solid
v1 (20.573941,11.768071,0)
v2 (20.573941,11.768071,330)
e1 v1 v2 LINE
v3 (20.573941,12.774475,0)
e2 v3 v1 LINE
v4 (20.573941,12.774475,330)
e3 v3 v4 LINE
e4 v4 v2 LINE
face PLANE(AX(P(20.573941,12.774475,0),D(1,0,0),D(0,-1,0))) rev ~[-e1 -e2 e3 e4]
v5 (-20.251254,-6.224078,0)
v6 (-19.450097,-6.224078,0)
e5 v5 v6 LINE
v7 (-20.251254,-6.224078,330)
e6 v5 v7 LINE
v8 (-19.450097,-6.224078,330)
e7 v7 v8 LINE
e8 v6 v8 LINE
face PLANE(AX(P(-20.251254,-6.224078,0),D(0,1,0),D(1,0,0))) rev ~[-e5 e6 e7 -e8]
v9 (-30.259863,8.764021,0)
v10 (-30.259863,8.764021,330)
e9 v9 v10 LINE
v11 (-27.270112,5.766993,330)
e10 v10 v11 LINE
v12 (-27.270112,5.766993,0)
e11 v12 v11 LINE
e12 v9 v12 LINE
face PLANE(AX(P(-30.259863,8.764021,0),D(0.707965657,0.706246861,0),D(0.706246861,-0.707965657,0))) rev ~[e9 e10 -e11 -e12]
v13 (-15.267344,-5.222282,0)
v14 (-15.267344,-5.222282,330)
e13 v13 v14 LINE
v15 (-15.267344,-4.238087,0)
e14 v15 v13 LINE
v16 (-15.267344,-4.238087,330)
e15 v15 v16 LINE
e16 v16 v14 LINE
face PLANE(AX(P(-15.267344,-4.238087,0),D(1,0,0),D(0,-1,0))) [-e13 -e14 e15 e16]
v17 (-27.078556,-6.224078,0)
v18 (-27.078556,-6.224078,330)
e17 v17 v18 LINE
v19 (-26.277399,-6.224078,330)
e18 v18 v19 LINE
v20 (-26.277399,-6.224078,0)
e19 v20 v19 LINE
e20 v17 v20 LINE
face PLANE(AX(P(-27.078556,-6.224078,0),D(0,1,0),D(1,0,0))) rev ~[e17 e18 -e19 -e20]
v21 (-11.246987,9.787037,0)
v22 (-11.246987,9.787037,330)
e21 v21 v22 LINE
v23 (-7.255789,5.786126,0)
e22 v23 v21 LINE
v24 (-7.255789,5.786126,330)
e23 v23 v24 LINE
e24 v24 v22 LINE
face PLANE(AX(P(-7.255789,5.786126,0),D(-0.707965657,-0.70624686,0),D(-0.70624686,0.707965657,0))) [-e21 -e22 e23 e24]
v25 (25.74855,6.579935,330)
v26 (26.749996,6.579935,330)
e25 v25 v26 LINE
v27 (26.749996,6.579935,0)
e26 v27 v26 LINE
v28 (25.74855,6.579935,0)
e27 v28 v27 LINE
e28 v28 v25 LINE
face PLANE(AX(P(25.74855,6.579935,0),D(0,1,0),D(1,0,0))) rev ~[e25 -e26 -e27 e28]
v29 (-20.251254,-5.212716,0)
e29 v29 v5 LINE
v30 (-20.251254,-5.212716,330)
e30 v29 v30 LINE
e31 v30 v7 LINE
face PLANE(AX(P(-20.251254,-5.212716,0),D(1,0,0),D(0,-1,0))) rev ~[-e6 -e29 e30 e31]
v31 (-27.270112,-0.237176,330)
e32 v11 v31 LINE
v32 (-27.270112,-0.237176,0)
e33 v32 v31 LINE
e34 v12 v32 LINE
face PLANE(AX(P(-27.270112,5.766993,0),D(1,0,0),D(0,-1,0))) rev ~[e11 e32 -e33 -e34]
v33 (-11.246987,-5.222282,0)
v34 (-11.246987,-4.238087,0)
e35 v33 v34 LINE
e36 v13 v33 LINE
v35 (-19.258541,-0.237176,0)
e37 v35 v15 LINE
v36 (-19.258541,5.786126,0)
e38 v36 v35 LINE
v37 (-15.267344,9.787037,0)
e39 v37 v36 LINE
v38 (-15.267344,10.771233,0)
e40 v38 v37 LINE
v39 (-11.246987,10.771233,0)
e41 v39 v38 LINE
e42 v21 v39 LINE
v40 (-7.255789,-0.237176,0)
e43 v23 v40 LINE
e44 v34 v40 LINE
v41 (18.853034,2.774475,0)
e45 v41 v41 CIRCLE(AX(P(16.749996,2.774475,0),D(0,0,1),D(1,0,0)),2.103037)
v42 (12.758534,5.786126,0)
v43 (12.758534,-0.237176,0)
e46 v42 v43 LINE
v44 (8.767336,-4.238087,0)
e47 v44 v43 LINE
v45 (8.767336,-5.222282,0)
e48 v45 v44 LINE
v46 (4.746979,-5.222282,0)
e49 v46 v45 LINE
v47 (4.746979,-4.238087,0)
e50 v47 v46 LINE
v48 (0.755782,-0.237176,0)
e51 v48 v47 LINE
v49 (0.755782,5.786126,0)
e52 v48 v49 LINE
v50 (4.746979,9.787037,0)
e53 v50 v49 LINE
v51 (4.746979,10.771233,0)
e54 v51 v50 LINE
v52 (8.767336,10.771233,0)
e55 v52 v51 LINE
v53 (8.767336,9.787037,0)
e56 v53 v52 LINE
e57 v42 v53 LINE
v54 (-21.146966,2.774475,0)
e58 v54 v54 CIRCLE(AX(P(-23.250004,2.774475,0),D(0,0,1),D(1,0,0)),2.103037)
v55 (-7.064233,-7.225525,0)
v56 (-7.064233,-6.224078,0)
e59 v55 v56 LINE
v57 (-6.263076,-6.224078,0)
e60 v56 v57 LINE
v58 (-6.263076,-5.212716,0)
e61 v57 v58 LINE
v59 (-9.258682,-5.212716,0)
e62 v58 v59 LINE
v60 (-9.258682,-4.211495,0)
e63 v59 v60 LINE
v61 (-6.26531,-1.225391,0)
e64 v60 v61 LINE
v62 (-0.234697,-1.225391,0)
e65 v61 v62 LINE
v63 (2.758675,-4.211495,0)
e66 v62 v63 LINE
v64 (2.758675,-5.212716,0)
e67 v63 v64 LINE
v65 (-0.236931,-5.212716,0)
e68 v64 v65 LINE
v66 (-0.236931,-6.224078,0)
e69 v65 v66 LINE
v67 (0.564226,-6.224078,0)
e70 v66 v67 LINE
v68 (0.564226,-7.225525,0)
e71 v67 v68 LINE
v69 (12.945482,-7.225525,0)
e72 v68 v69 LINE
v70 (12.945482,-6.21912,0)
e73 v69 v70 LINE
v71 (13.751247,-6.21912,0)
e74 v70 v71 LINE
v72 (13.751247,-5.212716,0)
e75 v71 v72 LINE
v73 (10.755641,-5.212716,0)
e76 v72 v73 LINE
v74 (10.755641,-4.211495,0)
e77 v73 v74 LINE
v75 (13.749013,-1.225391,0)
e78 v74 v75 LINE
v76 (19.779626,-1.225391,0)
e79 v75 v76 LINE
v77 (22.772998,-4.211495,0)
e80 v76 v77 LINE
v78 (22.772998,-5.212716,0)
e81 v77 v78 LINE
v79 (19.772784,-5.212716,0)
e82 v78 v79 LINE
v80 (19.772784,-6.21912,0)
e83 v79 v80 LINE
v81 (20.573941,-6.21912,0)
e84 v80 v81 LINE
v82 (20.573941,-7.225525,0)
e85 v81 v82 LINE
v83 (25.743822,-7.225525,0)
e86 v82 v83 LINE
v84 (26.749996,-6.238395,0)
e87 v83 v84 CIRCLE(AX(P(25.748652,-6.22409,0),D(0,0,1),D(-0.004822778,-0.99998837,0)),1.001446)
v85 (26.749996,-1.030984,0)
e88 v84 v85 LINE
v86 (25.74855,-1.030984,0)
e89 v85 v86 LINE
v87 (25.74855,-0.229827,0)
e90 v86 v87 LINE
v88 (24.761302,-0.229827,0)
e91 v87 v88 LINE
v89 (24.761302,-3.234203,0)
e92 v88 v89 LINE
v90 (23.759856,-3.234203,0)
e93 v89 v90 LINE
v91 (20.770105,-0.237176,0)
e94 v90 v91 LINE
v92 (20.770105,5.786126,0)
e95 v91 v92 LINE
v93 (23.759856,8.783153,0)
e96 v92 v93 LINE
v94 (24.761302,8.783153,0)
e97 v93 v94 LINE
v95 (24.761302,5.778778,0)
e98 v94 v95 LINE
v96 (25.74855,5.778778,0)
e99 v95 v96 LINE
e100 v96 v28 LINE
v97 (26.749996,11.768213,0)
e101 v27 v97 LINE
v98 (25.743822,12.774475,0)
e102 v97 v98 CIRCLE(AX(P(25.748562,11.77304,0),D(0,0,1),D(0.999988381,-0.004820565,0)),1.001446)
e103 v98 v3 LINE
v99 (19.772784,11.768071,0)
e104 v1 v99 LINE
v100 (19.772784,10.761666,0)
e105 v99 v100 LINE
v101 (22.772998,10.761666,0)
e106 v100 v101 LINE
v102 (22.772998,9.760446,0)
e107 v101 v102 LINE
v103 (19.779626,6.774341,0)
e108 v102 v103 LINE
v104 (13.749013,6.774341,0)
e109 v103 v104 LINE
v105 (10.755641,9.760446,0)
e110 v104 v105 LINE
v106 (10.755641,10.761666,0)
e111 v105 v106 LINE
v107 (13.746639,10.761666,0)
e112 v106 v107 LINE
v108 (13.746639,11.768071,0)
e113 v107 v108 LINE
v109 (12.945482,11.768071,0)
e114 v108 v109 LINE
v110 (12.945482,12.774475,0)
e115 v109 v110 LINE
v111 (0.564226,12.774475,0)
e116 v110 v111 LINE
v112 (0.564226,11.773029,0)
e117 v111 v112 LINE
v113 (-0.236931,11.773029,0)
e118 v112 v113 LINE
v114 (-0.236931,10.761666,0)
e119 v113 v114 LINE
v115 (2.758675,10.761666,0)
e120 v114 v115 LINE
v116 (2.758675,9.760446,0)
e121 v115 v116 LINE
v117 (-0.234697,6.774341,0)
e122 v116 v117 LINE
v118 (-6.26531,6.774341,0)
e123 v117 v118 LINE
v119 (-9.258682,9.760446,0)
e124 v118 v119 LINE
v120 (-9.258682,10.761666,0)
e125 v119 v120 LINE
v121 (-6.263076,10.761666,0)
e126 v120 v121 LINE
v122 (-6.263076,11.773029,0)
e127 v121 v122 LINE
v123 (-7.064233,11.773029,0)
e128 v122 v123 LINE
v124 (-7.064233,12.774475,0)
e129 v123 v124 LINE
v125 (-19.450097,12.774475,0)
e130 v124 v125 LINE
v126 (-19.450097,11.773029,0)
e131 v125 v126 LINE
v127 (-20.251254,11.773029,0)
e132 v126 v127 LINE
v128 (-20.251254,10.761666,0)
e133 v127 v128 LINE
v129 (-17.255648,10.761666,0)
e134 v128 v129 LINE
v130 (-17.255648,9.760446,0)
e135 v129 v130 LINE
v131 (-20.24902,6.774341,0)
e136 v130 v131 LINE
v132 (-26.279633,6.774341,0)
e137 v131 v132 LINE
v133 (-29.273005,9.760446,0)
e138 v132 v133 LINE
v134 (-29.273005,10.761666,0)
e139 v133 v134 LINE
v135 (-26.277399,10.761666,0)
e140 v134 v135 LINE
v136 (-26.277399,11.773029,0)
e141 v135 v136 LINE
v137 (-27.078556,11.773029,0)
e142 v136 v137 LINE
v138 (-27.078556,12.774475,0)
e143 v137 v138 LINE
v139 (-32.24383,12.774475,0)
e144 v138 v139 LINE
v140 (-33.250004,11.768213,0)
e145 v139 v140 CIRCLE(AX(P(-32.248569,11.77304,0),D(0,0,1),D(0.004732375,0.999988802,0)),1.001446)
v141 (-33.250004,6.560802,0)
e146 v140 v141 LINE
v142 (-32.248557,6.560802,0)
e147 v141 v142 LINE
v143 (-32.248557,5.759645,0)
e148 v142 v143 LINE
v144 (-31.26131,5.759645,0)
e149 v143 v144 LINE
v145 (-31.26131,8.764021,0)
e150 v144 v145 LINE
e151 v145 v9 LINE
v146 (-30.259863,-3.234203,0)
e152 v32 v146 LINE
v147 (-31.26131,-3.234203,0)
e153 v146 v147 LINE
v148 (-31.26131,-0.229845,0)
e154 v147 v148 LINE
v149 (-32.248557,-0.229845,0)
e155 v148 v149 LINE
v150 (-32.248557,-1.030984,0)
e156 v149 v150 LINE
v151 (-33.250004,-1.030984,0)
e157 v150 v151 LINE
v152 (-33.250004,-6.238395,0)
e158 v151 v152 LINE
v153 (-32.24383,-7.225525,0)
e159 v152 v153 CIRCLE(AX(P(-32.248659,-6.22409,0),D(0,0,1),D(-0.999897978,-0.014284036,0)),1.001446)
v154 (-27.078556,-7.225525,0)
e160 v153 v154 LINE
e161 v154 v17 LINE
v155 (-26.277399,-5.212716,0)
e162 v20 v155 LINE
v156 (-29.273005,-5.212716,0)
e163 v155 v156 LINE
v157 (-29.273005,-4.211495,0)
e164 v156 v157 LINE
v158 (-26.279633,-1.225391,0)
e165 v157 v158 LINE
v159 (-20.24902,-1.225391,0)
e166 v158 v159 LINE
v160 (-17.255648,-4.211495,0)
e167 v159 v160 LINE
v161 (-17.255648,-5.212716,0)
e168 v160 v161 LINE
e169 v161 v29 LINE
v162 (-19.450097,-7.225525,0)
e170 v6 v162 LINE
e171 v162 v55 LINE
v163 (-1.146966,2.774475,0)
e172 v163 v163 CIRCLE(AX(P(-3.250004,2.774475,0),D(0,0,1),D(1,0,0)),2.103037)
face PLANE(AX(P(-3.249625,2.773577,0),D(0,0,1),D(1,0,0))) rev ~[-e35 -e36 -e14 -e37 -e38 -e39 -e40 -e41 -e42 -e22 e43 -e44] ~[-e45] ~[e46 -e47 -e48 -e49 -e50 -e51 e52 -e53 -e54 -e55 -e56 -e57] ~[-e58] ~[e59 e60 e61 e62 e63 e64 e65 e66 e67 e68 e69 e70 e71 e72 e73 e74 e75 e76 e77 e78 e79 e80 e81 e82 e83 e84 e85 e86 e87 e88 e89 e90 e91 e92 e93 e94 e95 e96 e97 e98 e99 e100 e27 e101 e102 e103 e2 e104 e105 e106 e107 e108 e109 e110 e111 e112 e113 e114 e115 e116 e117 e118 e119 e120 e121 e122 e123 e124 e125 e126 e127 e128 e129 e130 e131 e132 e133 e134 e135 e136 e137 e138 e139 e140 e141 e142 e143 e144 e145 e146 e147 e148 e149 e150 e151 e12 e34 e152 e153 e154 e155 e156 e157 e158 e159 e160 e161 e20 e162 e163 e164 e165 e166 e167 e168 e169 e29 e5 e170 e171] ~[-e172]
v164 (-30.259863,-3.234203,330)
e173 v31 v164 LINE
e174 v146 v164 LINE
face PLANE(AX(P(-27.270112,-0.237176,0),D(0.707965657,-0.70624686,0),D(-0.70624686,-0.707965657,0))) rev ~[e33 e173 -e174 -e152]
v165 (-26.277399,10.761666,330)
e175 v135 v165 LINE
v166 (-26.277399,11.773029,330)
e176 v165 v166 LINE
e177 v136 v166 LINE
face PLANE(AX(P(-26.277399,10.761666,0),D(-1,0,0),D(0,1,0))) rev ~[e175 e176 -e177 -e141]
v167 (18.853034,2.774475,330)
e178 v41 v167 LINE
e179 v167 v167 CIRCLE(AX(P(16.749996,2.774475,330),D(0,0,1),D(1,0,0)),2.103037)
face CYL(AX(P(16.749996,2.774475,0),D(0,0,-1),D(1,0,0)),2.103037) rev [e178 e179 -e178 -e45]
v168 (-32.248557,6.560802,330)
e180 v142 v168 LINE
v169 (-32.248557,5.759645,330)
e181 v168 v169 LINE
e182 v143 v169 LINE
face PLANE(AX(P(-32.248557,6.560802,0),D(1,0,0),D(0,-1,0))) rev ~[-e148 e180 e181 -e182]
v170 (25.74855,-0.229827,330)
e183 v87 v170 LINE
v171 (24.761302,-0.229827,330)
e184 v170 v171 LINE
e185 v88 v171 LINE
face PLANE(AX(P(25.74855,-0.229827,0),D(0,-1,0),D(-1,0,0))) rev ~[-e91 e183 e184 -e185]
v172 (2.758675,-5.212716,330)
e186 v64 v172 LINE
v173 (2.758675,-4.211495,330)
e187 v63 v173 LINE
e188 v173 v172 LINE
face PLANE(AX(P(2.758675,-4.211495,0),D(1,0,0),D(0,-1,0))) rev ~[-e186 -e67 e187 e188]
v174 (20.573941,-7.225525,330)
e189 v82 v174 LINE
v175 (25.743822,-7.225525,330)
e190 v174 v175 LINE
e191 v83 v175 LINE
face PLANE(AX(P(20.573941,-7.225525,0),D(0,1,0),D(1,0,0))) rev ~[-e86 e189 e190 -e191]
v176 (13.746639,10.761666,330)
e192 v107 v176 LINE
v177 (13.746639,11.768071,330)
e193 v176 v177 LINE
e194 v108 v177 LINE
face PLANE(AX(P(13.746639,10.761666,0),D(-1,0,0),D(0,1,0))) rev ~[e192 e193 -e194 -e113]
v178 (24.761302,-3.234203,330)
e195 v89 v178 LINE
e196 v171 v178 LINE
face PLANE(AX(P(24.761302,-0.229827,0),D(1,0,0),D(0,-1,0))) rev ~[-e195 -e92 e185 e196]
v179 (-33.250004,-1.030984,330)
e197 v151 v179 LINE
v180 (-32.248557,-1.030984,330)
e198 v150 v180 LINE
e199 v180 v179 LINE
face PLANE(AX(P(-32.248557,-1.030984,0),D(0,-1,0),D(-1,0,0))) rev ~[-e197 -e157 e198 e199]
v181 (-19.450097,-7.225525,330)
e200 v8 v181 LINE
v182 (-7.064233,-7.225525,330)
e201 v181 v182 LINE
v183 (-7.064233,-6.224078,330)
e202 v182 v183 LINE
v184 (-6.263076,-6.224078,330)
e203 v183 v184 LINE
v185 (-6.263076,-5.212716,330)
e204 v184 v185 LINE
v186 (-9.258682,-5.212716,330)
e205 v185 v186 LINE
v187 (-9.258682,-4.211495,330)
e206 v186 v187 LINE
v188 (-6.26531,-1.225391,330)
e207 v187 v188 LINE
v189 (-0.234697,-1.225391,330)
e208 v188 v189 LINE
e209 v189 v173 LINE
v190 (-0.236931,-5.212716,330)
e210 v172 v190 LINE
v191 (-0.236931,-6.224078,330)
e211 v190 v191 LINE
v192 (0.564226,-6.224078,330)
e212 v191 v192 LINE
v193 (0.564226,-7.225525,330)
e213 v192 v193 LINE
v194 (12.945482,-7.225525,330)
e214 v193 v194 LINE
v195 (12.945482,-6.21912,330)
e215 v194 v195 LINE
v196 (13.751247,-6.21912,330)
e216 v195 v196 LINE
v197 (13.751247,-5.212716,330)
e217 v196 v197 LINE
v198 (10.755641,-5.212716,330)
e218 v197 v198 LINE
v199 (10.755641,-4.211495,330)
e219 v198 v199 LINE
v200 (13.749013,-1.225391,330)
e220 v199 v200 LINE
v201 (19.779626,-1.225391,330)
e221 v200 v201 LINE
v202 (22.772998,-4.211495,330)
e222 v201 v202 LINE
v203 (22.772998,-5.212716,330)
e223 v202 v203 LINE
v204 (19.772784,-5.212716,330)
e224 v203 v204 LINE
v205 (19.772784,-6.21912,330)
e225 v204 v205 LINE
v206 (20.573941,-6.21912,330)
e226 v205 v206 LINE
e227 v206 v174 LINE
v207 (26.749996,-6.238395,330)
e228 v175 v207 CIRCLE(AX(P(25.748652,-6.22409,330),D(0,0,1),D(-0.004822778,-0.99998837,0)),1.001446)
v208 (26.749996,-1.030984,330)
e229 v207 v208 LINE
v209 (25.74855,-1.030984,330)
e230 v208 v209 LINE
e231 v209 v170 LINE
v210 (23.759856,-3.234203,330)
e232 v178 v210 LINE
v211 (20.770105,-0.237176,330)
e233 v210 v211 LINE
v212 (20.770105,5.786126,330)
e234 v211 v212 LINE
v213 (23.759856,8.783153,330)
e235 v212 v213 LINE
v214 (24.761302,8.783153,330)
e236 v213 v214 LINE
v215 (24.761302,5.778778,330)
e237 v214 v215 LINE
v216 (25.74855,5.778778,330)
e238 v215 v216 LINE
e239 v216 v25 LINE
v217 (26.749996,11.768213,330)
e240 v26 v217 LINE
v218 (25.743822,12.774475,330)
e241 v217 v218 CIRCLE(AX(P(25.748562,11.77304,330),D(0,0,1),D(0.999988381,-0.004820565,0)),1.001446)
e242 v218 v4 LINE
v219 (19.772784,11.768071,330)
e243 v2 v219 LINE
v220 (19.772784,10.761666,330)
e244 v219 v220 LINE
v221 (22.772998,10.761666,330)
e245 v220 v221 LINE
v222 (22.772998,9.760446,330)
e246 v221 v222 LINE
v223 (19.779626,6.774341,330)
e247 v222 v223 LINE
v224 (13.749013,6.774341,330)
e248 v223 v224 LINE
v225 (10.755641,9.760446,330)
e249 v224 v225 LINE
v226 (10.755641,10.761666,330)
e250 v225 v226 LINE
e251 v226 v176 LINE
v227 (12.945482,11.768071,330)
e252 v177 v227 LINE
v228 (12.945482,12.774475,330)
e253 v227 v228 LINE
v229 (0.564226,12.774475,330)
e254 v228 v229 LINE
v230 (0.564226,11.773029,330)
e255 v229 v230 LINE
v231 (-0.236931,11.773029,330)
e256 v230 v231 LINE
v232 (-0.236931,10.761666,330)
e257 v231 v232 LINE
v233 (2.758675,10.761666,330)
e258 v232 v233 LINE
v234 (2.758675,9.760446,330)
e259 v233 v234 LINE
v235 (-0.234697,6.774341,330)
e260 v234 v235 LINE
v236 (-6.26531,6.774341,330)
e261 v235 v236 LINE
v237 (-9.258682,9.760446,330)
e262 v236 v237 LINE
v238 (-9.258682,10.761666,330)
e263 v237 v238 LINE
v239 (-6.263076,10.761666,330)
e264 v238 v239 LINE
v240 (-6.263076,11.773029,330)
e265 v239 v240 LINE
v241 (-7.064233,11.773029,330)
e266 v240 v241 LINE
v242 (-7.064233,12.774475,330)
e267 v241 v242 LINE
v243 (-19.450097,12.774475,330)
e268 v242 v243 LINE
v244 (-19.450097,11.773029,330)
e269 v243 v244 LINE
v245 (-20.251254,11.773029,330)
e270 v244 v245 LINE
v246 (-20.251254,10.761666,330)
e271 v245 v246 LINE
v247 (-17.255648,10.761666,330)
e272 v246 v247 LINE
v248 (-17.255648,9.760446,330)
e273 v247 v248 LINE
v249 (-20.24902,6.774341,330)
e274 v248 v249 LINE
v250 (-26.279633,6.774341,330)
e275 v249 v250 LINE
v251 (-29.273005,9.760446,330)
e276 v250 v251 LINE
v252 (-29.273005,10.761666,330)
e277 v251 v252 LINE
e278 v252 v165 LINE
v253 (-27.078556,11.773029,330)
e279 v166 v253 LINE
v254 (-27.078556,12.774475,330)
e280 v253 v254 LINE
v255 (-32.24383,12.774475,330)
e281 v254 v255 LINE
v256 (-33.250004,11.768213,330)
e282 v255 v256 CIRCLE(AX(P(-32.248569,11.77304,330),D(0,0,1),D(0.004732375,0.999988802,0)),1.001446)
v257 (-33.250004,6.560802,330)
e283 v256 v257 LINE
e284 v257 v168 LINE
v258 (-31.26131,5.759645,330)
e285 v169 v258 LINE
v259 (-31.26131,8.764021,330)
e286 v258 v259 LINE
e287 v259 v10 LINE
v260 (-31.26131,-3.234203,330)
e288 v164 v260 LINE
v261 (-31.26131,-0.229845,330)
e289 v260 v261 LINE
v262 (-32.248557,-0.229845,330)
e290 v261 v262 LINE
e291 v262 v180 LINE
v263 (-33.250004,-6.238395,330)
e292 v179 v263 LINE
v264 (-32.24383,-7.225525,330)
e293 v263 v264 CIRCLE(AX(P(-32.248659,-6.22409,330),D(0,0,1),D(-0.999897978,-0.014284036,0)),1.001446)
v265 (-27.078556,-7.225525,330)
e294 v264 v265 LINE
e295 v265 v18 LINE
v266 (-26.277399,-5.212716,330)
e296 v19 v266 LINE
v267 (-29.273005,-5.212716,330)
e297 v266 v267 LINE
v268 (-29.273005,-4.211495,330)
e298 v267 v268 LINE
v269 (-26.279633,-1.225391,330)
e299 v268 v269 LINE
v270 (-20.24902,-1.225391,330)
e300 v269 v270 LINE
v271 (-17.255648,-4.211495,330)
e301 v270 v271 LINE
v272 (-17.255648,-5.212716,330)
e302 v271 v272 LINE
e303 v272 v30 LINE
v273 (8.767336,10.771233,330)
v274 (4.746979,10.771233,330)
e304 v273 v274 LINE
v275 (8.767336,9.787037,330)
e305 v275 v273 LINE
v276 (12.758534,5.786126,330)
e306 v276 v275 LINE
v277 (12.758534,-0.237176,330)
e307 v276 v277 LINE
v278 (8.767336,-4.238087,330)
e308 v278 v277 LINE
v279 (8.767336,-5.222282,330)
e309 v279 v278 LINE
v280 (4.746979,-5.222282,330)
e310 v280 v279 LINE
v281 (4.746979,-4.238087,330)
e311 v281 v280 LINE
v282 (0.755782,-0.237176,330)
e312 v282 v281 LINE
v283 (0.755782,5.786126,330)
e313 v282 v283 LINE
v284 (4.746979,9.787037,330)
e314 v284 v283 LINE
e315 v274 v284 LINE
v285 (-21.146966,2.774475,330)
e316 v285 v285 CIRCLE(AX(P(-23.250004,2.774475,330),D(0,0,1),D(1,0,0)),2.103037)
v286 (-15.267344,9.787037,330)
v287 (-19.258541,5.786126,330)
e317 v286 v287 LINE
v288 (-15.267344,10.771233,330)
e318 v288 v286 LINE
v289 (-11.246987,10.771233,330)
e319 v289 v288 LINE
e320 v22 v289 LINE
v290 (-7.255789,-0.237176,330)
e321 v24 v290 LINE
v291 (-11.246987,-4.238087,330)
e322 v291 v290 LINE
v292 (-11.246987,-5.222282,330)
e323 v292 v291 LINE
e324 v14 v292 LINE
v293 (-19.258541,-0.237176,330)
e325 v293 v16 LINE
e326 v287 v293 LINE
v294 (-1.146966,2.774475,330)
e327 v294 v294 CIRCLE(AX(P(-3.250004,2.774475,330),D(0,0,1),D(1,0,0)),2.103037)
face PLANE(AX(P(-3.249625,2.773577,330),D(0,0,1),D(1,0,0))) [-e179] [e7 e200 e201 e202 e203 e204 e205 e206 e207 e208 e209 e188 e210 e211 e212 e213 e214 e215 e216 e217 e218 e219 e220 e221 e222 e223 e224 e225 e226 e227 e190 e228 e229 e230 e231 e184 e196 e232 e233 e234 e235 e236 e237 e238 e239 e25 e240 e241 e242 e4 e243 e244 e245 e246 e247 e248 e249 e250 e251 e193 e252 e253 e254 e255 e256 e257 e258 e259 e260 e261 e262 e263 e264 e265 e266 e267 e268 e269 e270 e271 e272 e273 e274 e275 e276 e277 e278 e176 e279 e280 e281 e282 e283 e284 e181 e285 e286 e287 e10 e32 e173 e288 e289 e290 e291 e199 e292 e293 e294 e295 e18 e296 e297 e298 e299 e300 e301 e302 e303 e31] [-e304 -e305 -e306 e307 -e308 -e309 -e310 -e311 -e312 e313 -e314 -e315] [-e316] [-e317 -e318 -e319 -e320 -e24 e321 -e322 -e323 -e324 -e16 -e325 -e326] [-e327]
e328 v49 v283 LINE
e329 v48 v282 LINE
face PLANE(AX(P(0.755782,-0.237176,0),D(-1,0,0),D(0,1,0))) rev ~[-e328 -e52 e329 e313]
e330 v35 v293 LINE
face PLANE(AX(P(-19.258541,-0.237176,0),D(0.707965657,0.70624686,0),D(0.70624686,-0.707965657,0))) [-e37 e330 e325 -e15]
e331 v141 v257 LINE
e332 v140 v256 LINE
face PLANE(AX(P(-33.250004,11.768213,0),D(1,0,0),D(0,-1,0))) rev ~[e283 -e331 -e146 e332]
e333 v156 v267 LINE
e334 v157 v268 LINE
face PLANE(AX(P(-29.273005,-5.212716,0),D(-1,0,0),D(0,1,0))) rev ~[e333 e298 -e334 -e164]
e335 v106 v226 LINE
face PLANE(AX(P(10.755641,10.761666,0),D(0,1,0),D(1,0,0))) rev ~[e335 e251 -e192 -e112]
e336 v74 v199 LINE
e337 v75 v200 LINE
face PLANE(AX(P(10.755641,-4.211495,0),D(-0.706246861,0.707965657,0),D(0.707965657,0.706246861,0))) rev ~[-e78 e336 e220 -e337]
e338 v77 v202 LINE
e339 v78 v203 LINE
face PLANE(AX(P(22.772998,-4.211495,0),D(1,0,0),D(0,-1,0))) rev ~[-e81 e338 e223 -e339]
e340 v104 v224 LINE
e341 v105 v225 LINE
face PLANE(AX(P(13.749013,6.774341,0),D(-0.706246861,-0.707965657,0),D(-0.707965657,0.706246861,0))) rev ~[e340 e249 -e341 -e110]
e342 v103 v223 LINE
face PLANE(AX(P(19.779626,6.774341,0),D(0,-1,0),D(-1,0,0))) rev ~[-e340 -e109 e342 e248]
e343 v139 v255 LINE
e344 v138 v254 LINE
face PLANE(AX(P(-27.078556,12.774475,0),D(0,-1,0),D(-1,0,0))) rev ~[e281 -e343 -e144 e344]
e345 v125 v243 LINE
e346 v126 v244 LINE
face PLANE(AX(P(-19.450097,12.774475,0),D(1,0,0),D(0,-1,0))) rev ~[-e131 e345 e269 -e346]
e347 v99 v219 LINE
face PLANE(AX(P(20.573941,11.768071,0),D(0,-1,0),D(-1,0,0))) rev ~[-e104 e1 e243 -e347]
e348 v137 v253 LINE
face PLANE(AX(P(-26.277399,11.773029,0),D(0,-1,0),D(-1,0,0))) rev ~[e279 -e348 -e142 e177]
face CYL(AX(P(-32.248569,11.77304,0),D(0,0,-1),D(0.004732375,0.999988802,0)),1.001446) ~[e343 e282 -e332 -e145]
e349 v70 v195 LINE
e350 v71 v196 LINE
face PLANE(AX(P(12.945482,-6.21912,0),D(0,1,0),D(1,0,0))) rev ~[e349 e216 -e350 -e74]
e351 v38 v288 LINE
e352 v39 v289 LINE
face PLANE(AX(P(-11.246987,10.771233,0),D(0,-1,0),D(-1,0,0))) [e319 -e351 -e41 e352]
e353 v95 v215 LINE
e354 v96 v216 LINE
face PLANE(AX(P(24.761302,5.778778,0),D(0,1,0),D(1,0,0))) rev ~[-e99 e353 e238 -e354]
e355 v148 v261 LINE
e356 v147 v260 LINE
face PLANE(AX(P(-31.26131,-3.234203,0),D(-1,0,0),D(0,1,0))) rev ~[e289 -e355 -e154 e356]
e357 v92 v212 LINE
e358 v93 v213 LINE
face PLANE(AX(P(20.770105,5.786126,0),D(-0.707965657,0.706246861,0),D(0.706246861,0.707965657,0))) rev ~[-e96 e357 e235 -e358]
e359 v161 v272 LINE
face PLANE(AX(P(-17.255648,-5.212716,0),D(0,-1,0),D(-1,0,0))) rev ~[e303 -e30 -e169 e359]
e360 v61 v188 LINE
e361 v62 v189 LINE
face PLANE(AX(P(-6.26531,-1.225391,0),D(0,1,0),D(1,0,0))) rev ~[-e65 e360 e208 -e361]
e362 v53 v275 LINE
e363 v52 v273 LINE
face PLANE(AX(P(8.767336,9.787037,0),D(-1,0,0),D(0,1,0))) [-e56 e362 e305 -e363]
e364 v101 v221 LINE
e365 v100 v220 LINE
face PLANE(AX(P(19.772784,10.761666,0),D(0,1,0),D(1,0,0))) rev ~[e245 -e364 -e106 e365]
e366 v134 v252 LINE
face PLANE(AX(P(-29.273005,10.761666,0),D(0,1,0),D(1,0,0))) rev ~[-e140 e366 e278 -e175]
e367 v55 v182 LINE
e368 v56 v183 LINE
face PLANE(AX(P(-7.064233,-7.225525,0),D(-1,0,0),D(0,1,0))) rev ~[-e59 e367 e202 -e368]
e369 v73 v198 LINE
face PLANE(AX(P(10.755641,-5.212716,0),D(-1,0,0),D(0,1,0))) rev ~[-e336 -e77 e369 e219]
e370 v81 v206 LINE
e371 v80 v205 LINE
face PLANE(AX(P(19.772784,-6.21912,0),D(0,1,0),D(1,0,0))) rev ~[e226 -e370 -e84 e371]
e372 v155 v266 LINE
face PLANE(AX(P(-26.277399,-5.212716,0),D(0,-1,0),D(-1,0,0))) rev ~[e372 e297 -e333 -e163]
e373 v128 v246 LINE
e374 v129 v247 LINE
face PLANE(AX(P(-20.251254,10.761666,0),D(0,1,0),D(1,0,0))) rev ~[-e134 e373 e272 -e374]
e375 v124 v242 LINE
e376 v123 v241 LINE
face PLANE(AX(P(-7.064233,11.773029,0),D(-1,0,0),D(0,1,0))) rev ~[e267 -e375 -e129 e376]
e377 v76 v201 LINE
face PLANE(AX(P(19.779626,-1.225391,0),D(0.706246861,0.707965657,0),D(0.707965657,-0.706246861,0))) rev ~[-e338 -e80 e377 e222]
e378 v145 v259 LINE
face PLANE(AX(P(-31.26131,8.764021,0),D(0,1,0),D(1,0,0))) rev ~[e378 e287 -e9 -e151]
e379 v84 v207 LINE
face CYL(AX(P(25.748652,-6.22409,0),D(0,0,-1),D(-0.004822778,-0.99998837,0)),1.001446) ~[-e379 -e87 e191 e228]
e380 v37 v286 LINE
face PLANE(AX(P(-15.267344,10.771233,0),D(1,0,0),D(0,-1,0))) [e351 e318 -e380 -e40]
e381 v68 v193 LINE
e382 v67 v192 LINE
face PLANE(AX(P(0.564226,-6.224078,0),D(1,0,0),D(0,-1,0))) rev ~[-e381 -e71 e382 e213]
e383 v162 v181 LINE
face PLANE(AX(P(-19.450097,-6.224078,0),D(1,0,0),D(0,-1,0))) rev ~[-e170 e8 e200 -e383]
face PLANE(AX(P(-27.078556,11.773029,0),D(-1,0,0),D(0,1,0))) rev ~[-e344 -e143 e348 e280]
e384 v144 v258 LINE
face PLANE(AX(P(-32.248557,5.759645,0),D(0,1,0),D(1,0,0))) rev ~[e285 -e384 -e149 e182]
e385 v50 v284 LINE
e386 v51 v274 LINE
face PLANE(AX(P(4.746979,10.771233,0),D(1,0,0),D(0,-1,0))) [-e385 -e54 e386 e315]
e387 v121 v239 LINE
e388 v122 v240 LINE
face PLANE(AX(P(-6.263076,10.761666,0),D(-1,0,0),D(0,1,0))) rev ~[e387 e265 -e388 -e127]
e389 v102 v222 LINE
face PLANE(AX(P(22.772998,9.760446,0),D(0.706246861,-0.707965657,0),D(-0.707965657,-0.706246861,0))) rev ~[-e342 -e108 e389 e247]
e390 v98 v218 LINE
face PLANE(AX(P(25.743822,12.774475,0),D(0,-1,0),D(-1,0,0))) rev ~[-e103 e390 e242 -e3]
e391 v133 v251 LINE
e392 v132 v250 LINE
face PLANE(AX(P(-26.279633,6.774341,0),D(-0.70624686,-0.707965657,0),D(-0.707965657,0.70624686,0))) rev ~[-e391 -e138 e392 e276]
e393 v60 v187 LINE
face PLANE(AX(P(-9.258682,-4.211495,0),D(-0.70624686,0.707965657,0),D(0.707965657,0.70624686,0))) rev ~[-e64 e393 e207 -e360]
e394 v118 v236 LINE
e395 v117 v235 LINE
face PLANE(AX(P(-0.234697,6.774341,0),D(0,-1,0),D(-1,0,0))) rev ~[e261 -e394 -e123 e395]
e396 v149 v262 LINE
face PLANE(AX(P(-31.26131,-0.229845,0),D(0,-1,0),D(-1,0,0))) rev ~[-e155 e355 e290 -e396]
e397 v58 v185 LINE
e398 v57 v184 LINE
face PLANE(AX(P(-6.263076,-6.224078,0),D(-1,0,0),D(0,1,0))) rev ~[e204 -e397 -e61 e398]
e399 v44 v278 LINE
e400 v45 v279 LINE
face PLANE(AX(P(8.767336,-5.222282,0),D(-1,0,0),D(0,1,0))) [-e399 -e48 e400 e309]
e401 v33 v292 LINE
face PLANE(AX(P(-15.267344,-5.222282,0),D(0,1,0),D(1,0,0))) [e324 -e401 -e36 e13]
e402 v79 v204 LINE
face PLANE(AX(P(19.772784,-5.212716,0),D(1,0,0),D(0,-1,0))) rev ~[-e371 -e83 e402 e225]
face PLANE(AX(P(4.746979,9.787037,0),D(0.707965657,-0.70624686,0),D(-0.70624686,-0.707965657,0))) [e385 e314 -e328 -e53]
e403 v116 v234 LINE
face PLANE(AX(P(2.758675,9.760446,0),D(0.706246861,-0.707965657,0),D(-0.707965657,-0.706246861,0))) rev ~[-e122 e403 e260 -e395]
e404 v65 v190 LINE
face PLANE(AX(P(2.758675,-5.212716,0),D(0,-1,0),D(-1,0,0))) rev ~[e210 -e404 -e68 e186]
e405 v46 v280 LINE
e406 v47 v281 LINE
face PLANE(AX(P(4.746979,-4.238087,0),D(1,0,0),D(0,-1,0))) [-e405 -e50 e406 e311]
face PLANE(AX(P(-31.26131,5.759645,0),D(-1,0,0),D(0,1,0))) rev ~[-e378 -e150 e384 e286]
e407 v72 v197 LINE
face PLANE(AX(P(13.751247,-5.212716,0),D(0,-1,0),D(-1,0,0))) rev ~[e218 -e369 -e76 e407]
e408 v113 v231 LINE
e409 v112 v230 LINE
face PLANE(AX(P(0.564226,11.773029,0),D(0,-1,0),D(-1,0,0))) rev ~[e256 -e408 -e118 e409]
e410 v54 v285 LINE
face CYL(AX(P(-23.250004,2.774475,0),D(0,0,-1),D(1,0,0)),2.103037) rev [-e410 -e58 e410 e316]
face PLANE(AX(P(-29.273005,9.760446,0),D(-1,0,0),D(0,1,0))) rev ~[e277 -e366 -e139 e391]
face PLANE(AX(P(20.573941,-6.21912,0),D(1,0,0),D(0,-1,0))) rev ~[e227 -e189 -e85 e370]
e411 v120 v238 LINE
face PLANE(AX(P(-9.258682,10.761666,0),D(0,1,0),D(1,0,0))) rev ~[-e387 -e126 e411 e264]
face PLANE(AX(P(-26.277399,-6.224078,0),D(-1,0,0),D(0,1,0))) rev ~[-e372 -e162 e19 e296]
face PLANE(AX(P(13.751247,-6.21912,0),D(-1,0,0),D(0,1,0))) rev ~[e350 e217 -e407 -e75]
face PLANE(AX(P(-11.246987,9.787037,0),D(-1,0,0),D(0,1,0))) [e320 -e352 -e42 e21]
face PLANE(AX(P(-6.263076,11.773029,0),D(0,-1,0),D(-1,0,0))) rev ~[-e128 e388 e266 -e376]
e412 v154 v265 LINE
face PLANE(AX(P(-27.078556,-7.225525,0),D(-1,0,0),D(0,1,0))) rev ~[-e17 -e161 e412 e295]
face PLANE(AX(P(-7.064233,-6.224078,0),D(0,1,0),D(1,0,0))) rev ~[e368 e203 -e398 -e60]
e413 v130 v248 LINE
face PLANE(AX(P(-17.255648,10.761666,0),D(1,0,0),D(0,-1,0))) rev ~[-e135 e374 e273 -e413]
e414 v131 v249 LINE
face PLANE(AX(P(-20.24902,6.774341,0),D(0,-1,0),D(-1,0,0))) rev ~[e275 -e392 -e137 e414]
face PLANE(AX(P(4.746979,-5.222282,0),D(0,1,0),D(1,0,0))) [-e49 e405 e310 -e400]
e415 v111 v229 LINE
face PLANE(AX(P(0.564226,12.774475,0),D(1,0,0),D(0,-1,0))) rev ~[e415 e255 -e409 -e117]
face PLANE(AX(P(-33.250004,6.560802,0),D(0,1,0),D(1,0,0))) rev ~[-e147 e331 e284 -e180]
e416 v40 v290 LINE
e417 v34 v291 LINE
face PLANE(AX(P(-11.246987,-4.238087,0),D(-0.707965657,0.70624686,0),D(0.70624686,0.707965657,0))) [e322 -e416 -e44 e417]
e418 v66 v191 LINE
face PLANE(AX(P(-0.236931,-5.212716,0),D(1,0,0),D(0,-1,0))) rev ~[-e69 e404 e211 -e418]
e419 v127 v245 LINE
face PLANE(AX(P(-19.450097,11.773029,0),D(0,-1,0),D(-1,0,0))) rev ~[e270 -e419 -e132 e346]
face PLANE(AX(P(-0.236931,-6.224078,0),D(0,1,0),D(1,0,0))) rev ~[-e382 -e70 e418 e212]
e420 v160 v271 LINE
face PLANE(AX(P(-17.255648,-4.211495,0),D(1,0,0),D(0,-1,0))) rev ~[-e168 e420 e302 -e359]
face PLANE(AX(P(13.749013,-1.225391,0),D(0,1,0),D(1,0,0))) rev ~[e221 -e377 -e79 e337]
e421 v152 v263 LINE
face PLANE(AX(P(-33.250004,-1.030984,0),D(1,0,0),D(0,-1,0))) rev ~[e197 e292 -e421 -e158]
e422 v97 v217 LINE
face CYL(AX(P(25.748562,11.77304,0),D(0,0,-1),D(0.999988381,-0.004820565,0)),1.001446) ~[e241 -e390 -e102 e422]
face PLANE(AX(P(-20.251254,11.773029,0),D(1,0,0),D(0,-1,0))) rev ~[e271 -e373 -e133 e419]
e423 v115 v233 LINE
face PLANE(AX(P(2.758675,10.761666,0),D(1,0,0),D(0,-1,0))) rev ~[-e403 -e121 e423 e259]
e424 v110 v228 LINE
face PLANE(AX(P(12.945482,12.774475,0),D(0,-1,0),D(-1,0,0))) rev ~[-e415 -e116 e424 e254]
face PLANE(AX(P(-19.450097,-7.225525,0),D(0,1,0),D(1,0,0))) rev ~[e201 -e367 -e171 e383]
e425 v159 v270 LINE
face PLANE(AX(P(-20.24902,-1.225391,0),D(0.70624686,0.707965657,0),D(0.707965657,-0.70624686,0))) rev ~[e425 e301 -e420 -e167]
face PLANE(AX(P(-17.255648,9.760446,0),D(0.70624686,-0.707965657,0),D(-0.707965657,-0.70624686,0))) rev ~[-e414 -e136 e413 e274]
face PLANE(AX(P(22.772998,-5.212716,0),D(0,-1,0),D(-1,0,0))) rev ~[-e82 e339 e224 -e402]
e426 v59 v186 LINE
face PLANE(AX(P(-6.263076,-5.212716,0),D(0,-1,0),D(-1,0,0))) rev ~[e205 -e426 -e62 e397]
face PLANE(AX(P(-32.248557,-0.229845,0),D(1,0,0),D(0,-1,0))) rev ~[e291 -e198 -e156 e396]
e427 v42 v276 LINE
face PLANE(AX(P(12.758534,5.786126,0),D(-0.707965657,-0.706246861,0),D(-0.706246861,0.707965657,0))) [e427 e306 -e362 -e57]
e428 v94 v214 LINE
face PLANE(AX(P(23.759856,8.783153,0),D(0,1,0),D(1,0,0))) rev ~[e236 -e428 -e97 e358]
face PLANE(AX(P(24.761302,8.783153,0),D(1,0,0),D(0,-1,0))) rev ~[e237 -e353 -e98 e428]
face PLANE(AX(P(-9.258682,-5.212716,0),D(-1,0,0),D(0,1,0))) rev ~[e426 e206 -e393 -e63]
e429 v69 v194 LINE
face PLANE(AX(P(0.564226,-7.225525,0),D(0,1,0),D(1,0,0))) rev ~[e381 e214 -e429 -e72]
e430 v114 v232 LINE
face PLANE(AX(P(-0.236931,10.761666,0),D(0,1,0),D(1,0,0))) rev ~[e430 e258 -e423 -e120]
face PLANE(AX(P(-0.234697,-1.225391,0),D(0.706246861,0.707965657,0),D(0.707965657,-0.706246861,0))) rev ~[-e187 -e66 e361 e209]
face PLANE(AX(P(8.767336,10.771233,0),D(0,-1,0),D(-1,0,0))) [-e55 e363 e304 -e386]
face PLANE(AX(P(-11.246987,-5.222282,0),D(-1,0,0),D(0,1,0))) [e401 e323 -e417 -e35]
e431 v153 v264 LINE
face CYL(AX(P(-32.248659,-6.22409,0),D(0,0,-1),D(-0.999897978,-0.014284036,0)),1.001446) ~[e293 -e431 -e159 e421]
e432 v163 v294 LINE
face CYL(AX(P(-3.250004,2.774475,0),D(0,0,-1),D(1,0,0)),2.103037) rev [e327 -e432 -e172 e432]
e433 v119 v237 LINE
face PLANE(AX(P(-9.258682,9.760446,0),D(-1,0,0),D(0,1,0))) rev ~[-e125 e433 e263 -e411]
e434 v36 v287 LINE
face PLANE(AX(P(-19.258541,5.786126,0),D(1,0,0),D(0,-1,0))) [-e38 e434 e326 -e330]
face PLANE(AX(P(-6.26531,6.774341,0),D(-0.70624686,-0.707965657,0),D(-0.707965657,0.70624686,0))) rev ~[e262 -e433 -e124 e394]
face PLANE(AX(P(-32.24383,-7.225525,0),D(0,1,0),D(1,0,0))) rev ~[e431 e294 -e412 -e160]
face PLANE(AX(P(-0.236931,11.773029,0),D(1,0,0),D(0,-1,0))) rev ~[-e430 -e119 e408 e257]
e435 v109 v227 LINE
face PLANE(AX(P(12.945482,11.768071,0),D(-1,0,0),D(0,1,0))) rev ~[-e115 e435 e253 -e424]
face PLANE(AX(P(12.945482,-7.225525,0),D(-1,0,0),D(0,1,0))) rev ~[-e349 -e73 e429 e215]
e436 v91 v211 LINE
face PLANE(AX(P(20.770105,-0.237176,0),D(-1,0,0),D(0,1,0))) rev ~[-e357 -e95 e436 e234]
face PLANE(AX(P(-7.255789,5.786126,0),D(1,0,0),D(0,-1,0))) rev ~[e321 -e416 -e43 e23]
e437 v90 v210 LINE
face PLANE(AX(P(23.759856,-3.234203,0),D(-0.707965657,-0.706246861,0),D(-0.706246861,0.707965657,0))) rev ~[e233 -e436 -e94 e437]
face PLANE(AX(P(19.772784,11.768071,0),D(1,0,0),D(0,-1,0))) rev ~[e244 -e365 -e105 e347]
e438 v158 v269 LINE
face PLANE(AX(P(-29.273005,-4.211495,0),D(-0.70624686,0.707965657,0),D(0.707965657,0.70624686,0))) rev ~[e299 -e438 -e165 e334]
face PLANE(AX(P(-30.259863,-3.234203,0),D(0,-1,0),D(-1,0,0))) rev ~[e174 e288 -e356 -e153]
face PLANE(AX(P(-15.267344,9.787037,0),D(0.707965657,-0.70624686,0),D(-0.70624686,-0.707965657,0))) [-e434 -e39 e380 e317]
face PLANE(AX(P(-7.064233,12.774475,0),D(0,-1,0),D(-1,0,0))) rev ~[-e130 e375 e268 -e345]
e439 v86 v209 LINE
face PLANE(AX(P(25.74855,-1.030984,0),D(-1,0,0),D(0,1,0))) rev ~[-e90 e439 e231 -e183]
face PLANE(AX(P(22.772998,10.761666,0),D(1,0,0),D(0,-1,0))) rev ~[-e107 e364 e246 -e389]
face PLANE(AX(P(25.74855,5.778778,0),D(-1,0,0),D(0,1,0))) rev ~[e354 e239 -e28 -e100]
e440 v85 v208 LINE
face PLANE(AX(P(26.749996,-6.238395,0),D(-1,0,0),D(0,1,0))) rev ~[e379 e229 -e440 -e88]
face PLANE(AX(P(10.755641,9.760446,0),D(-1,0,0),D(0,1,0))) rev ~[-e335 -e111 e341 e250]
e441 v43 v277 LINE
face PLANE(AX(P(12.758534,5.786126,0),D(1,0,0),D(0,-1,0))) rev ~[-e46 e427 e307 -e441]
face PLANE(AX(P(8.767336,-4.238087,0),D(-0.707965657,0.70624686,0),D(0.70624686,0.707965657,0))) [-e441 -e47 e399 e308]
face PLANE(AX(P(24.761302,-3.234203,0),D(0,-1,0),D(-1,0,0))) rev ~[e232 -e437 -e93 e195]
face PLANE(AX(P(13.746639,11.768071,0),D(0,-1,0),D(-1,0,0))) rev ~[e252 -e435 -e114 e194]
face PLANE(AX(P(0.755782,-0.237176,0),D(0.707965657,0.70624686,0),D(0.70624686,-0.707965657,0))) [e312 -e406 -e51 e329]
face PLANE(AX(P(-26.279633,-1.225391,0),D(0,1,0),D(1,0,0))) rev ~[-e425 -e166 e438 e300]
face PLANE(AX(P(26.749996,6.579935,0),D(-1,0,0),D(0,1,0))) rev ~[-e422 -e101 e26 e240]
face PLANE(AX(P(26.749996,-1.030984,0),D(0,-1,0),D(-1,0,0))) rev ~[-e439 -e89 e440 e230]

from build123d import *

# Parameters (mm, degrees)
SKETCH_1_R      = 2.103037388
EXTRUDE_1_DEPTH = 330


with BuildPart() as part:
    # 草图1 → 凸台-拉伸1 (new body)
    with BuildSketch(Plane.XY):
        with BuildLine():
            Line((-32.248557314, -0.229845073), (-32.248557314, -1.030984477))
            Line((-32.248557314, -1.030984477), (-33.250003689, -1.030984477))
            Line((-33.250003689, -1.030984477), (-33.250003689, -6.238394755))
            ThreePointArc((-33.250003689, -6.238394755), (-32.949991565, -6.938952391), (-32.24382973, -7.225524788))
            Line((-32.24382973, -7.225524788), (-27.078556151, -7.225524788))
            Line((-27.078556151, -7.225524788), (-27.078556151, -6.224078413))
            Line((-27.078556151, -6.224078413), (-26.277399051, -6.224078413))
            Line((-26.277399051, -6.224078413), (-26.277399051, -5.212715786))
            Line((-26.277399051, -5.212715786), (-29.27300496, -5.212715786))
            Line((-29.27300496, -5.212715786), (-29.27300496, -4.211495229))
            Line((-29.27300496, -4.211495229), (-26.279632969, -1.225390538))
            Line((-26.279632969, -1.225390538), (-20.24902045, -1.225390538))
            Line((-20.24902045, -1.225390538), (-17.255648459, -4.211495229))
            Line((-17.255648459, -4.211495229), (-17.255648459, -5.212715786))
            Line((-17.255648459, -5.212715786), (-20.251254368, -5.212715786))
            Line((-20.251254368, -5.212715786), (-20.251254368, -6.224078413))
            Line((-20.251254368, -6.224078413), (-19.450097268, -6.224078413))
            Line((-19.450097268, -6.224078413), (-19.450097268, -7.225524788))
            Line((-19.450097268, -7.225524788), (-7.064233131, -7.225524788))
            Line((-7.064233131, -7.225524788), (-7.064233131, -6.224078413))
            Line((-7.064233131, -6.224078413), (-6.263076031, -6.224078413))
            Line((-6.263076031, -6.224078413), (-6.263076031, -5.212715786))
            Line((-6.263076031, -5.212715786), (-9.25868194, -5.212715786))
            Line((-9.25868194, -5.212715786), (-9.25868194, -4.211495229))
            Line((-9.25868194, -4.211495229), (-6.265309949, -1.225390538))
            Line((-6.265309949, -1.225390538), (-0.234697429, -1.225390538))
            Line((-0.234697429, -1.225390538), (2.758674561, -4.211495229))
            Line((2.758674561, -4.211495229), (2.758674561, -5.212715786))
            Line((2.758674561, -5.212715786), (-0.236931348, -5.212715786))
            Line((-0.236931348, -5.212715786), (-0.236931348, -6.224078413))
            Line((-0.236931348, -6.224078413), (0.564225752, -6.224078413))
            Line((0.564225752, -6.224078413), (0.564225752, -7.225524788))
            Line((0.564225752, -7.225524788), (12.945482254, -7.225524788))
            Line((12.945482254, -7.225524788), (12.945482254, -6.219120287))
            Line((12.945482254, -6.219120287), (13.751246989, -6.219120287))
            Line((13.751246989, -6.219120287), (13.751246989, -5.212715786))
            Line((13.751246989, -5.212715786), (10.755641081, -5.212715786))
            Line((10.755641081, -5.212715786), (10.755641081, -4.211495229))
            Line((10.755641081, -4.211495229), (13.749013071, -1.225390538))
            Line((13.749013071, -1.225390538), (19.779625591, -1.225390538))
            Line((19.779625591, -1.225390538), (22.772997581, -4.211495229))
            Line((22.772997581, -4.211495229), (22.772997581, -5.212715786))
            Line((22.772997581, -5.212715786), (19.772784037, -5.212715786))
            Line((19.772784037, -5.212715786), (19.772784037, -6.219120287))
            Line((19.772784037, -6.219120287), (20.573941137, -6.219120287))
            Line((20.573941137, -6.219120287), (20.573941137, -7.225524788))
            Line((20.573941137, -7.225524788), (25.743822351, -7.225524788))
            ThreePointArc((25.743822351, -7.225524788), (26.449984187, -6.938952391), (26.749996311, -6.238394755))
            Line((26.749996311, -6.238394755), (26.749996311, -1.030984477))
            Line((26.749996311, -1.030984477), (25.748549936, -1.030984477))
            Line((25.748549936, -1.030984477), (25.748549936, -0.229827377))
            Line((25.748549936, -0.229827377), (24.761302481, -0.229827377))
            Line((24.761302481, -0.229827377), (24.761302481, -3.234203038))
            Line((24.761302481, -3.234203038), (23.759856106, -3.234203038))
            Line((23.759856106, -3.234203038), (20.770104831, -0.237175589))
            Line((20.770104831, -0.237175589), (20.770104831, 5.786126014))
            Line((20.770104831, 5.786126014), (23.759856106, 8.783153462))
            Line((23.759856106, 8.783153462), (24.761302481, 8.783153462))
            Line((24.761302481, 8.783153462), (24.761302481, 5.778777801))
            Line((24.761302481, 5.778777801), (25.748549936, 5.778777801))
            Line((25.748549936, 5.778777801), (25.748549936, 6.579934901))
            Line((25.748549936, 6.579934901), (26.749996311, 6.579934901))
            Line((26.749996311, 6.579934901), (26.749996311, 11.768212512))
            ThreePointArc((26.749996311, 11.768212512), (26.456722319, 12.481138347), (25.743822351, 12.774475212))
            Line((25.743822351, 12.774475212), (20.573941137, 12.774475212))
            Line((20.573941137, 12.774475212), (20.573941137, 11.768070711))
            Line((20.573941137, 11.768070711), (19.772784037, 11.768070711))
            Line((19.772784037, 11.768070711), (19.772784037, 10.761666211))
            Line((19.772784037, 10.761666211), (22.772997581, 10.761666211))
            Line((22.772997581, 10.761666211), (22.772997581, 9.760445653))
            Line((22.772997581, 9.760445653), (19.779625591, 6.774340962))
            Line((19.779625591, 6.774340962), (13.749013071, 6.774340962))
            Line((13.749013071, 6.774340962), (10.755641081, 9.760445653))
            Line((10.755641081, 9.760445653), (10.755641081, 10.761666211))
            Line((10.755641081, 10.761666211), (13.746639354, 10.761666211))
            Line((13.746639354, 10.761666211), (13.746639354, 11.768070711))
            Line((13.746639354, 11.768070711), (12.945482254, 11.768070711))
            Line((12.945482254, 11.768070711), (12.945482254, 12.774475212))
            Line((12.945482254, 12.774475212), (0.564225752, 12.774475212))
            Line((0.564225752, 12.774475212), (0.564225752, 11.773028837))
            Line((0.564225752, 11.773028837), (-0.236931348, 11.773028837))
            Line((-0.236931348, 11.773028837), (-0.236931348, 10.761666211))
            Line((-0.236931348, 10.761666211), (2.758674561, 10.761666211))
            Line((2.758674561, 10.761666211), (2.758674561, 9.760445653))
            Line((2.758674561, 9.760445653), (-0.234697429, 6.774340962))
            Line((-0.234697429, 6.774340962), (-6.265309949, 6.774340962))
            Line((-6.265309949, 6.774340962), (-9.25868194, 9.760445653))
            Line((-9.25868194, 9.760445653), (-9.25868194, 10.761666211))
            Line((-9.25868194, 10.761666211), (-6.263076031, 10.761666211))
            Line((-6.263076031, 10.761666211), (-6.263076031, 11.773028837))
            Line((-6.263076031, 11.773028837), (-7.064233131, 11.773028837))
            Line((-7.064233131, 11.773028837), (-7.064233131, 12.774475212))
            Line((-7.064233131, 12.774475212), (-19.450097268, 12.774475212))
            Line((-19.450097268, 12.774475212), (-19.450097268, 11.773028837))
            Line((-19.450097268, 11.773028837), (-20.251254368, 11.773028837))
            Line((-20.251254368, 11.773028837), (-20.251254368, 10.761666211))
            Line((-20.251254368, 10.761666211), (-17.255648459, 10.761666211))
            Line((-17.255648459, 10.761666211), (-17.255648459, 9.760445653))
            Line((-17.255648459, 9.760445653), (-20.24902045, 6.774340962))
            Line((-20.24902045, 6.774340962), (-26.279632969, 6.774340962))
            Line((-26.279632969, 6.774340962), (-29.27300496, 9.760445653))
            Line((-29.27300496, 9.760445653), (-29.27300496, 10.761666211))
            Line((-29.27300496, 10.761666211), (-26.277399051, 10.761666211))
            Line((-26.277399051, 10.761666211), (-26.277399051, 11.773028837))
            Line((-26.277399051, 11.773028837), (-27.078556151, 11.773028837))
            Line((-27.078556151, 11.773028837), (-27.078556151, 12.774475212))
            Line((-27.078556151, 12.774475212), (-32.24382973, 12.774475212))
            ThreePointArc((-32.24382973, 12.774475212), (-32.956729698, 12.481138347), (-33.250003689, 11.768212512))
            Line((-33.250003689, 11.768212512), (-33.250003689, 6.560802234))
            Line((-33.250003689, 6.560802234), (-32.248557314, 6.560802234))
            Line((-32.248557314, 6.560802234), (-32.248557314, 5.759645134))
            Line((-32.248557314, 5.759645134), (-31.261309859, 5.759645134))
            Line((-31.261309859, 5.759645134), (-31.261309859, 8.764020795))
            Line((-31.261309859, 8.764020795), (-30.259863484, 8.764020795))
            Line((-30.259863484, 8.764020795), (-27.27011221, 5.766993347))
            Line((-27.27011221, 5.766993347), (-27.27011221, -0.237175589))
            Line((-27.27011221, -0.237175589), (-30.259863484, -3.234203038))
            Line((-30.259863484, -3.234203038), (-31.261309859, -3.234203038))
            Line((-31.261309859, -3.234203038), (-31.261309859, -0.229845073))
            Line((-31.261309859, -0.229845073), (-32.248557314, -0.229845073))
        make_face()
        with Locations((-3.250003689, 2.774475212)):
            Circle(SKETCH_1_R, mode=Mode.SUBTRACT)
        with Locations((-23.250003689, 2.774475212)):
            Circle(SKETCH_1_R, mode=Mode.SUBTRACT)
        with Locations((16.749996311, 2.774475212)):
            Circle(SKETCH_1_R, mode=Mode.SUBTRACT)
        Polygon((-19.258541209, 5.786126014), (-19.258541209, -0.237175589), (-15.26734356, -4.238086639), (-15.26734356, -5.22228212), (-11.246986839, -5.22228212), (-11.246986839, -4.238086639), (-7.25578919, -0.237175589), (-7.25578919, 2.774475212), (-7.25578919, 5.786126014), (-11.246986839, 9.787037063), (-11.246986839, 10.771232544), (-15.26734356, 10.771232544), (-15.26734356, 9.787037063), align=None, mode=Mode.SUBTRACT)
        Polygon((4.74697946, -5.22228212), (8.767336181, -5.22228212), (8.767336181, -4.238086639), (12.758533831, -0.237175589), (12.758533831, 2.774475212), (12.758533831, 5.786126014), (8.767336181, 9.787037063), (8.767336181, 10.771232544), (4.74697946, 10.771232544), (4.74697946, 9.787037063), (0.755781811, 5.786126014), (0.755781811, 2.774475212), (0.755781811, -0.237175589), (4.74697946, -4.238086639), align=None, mode=Mode.SUBTRACT)
    extrude(amount=EXTRUDE_1_DEPTH)


solid = part.part
